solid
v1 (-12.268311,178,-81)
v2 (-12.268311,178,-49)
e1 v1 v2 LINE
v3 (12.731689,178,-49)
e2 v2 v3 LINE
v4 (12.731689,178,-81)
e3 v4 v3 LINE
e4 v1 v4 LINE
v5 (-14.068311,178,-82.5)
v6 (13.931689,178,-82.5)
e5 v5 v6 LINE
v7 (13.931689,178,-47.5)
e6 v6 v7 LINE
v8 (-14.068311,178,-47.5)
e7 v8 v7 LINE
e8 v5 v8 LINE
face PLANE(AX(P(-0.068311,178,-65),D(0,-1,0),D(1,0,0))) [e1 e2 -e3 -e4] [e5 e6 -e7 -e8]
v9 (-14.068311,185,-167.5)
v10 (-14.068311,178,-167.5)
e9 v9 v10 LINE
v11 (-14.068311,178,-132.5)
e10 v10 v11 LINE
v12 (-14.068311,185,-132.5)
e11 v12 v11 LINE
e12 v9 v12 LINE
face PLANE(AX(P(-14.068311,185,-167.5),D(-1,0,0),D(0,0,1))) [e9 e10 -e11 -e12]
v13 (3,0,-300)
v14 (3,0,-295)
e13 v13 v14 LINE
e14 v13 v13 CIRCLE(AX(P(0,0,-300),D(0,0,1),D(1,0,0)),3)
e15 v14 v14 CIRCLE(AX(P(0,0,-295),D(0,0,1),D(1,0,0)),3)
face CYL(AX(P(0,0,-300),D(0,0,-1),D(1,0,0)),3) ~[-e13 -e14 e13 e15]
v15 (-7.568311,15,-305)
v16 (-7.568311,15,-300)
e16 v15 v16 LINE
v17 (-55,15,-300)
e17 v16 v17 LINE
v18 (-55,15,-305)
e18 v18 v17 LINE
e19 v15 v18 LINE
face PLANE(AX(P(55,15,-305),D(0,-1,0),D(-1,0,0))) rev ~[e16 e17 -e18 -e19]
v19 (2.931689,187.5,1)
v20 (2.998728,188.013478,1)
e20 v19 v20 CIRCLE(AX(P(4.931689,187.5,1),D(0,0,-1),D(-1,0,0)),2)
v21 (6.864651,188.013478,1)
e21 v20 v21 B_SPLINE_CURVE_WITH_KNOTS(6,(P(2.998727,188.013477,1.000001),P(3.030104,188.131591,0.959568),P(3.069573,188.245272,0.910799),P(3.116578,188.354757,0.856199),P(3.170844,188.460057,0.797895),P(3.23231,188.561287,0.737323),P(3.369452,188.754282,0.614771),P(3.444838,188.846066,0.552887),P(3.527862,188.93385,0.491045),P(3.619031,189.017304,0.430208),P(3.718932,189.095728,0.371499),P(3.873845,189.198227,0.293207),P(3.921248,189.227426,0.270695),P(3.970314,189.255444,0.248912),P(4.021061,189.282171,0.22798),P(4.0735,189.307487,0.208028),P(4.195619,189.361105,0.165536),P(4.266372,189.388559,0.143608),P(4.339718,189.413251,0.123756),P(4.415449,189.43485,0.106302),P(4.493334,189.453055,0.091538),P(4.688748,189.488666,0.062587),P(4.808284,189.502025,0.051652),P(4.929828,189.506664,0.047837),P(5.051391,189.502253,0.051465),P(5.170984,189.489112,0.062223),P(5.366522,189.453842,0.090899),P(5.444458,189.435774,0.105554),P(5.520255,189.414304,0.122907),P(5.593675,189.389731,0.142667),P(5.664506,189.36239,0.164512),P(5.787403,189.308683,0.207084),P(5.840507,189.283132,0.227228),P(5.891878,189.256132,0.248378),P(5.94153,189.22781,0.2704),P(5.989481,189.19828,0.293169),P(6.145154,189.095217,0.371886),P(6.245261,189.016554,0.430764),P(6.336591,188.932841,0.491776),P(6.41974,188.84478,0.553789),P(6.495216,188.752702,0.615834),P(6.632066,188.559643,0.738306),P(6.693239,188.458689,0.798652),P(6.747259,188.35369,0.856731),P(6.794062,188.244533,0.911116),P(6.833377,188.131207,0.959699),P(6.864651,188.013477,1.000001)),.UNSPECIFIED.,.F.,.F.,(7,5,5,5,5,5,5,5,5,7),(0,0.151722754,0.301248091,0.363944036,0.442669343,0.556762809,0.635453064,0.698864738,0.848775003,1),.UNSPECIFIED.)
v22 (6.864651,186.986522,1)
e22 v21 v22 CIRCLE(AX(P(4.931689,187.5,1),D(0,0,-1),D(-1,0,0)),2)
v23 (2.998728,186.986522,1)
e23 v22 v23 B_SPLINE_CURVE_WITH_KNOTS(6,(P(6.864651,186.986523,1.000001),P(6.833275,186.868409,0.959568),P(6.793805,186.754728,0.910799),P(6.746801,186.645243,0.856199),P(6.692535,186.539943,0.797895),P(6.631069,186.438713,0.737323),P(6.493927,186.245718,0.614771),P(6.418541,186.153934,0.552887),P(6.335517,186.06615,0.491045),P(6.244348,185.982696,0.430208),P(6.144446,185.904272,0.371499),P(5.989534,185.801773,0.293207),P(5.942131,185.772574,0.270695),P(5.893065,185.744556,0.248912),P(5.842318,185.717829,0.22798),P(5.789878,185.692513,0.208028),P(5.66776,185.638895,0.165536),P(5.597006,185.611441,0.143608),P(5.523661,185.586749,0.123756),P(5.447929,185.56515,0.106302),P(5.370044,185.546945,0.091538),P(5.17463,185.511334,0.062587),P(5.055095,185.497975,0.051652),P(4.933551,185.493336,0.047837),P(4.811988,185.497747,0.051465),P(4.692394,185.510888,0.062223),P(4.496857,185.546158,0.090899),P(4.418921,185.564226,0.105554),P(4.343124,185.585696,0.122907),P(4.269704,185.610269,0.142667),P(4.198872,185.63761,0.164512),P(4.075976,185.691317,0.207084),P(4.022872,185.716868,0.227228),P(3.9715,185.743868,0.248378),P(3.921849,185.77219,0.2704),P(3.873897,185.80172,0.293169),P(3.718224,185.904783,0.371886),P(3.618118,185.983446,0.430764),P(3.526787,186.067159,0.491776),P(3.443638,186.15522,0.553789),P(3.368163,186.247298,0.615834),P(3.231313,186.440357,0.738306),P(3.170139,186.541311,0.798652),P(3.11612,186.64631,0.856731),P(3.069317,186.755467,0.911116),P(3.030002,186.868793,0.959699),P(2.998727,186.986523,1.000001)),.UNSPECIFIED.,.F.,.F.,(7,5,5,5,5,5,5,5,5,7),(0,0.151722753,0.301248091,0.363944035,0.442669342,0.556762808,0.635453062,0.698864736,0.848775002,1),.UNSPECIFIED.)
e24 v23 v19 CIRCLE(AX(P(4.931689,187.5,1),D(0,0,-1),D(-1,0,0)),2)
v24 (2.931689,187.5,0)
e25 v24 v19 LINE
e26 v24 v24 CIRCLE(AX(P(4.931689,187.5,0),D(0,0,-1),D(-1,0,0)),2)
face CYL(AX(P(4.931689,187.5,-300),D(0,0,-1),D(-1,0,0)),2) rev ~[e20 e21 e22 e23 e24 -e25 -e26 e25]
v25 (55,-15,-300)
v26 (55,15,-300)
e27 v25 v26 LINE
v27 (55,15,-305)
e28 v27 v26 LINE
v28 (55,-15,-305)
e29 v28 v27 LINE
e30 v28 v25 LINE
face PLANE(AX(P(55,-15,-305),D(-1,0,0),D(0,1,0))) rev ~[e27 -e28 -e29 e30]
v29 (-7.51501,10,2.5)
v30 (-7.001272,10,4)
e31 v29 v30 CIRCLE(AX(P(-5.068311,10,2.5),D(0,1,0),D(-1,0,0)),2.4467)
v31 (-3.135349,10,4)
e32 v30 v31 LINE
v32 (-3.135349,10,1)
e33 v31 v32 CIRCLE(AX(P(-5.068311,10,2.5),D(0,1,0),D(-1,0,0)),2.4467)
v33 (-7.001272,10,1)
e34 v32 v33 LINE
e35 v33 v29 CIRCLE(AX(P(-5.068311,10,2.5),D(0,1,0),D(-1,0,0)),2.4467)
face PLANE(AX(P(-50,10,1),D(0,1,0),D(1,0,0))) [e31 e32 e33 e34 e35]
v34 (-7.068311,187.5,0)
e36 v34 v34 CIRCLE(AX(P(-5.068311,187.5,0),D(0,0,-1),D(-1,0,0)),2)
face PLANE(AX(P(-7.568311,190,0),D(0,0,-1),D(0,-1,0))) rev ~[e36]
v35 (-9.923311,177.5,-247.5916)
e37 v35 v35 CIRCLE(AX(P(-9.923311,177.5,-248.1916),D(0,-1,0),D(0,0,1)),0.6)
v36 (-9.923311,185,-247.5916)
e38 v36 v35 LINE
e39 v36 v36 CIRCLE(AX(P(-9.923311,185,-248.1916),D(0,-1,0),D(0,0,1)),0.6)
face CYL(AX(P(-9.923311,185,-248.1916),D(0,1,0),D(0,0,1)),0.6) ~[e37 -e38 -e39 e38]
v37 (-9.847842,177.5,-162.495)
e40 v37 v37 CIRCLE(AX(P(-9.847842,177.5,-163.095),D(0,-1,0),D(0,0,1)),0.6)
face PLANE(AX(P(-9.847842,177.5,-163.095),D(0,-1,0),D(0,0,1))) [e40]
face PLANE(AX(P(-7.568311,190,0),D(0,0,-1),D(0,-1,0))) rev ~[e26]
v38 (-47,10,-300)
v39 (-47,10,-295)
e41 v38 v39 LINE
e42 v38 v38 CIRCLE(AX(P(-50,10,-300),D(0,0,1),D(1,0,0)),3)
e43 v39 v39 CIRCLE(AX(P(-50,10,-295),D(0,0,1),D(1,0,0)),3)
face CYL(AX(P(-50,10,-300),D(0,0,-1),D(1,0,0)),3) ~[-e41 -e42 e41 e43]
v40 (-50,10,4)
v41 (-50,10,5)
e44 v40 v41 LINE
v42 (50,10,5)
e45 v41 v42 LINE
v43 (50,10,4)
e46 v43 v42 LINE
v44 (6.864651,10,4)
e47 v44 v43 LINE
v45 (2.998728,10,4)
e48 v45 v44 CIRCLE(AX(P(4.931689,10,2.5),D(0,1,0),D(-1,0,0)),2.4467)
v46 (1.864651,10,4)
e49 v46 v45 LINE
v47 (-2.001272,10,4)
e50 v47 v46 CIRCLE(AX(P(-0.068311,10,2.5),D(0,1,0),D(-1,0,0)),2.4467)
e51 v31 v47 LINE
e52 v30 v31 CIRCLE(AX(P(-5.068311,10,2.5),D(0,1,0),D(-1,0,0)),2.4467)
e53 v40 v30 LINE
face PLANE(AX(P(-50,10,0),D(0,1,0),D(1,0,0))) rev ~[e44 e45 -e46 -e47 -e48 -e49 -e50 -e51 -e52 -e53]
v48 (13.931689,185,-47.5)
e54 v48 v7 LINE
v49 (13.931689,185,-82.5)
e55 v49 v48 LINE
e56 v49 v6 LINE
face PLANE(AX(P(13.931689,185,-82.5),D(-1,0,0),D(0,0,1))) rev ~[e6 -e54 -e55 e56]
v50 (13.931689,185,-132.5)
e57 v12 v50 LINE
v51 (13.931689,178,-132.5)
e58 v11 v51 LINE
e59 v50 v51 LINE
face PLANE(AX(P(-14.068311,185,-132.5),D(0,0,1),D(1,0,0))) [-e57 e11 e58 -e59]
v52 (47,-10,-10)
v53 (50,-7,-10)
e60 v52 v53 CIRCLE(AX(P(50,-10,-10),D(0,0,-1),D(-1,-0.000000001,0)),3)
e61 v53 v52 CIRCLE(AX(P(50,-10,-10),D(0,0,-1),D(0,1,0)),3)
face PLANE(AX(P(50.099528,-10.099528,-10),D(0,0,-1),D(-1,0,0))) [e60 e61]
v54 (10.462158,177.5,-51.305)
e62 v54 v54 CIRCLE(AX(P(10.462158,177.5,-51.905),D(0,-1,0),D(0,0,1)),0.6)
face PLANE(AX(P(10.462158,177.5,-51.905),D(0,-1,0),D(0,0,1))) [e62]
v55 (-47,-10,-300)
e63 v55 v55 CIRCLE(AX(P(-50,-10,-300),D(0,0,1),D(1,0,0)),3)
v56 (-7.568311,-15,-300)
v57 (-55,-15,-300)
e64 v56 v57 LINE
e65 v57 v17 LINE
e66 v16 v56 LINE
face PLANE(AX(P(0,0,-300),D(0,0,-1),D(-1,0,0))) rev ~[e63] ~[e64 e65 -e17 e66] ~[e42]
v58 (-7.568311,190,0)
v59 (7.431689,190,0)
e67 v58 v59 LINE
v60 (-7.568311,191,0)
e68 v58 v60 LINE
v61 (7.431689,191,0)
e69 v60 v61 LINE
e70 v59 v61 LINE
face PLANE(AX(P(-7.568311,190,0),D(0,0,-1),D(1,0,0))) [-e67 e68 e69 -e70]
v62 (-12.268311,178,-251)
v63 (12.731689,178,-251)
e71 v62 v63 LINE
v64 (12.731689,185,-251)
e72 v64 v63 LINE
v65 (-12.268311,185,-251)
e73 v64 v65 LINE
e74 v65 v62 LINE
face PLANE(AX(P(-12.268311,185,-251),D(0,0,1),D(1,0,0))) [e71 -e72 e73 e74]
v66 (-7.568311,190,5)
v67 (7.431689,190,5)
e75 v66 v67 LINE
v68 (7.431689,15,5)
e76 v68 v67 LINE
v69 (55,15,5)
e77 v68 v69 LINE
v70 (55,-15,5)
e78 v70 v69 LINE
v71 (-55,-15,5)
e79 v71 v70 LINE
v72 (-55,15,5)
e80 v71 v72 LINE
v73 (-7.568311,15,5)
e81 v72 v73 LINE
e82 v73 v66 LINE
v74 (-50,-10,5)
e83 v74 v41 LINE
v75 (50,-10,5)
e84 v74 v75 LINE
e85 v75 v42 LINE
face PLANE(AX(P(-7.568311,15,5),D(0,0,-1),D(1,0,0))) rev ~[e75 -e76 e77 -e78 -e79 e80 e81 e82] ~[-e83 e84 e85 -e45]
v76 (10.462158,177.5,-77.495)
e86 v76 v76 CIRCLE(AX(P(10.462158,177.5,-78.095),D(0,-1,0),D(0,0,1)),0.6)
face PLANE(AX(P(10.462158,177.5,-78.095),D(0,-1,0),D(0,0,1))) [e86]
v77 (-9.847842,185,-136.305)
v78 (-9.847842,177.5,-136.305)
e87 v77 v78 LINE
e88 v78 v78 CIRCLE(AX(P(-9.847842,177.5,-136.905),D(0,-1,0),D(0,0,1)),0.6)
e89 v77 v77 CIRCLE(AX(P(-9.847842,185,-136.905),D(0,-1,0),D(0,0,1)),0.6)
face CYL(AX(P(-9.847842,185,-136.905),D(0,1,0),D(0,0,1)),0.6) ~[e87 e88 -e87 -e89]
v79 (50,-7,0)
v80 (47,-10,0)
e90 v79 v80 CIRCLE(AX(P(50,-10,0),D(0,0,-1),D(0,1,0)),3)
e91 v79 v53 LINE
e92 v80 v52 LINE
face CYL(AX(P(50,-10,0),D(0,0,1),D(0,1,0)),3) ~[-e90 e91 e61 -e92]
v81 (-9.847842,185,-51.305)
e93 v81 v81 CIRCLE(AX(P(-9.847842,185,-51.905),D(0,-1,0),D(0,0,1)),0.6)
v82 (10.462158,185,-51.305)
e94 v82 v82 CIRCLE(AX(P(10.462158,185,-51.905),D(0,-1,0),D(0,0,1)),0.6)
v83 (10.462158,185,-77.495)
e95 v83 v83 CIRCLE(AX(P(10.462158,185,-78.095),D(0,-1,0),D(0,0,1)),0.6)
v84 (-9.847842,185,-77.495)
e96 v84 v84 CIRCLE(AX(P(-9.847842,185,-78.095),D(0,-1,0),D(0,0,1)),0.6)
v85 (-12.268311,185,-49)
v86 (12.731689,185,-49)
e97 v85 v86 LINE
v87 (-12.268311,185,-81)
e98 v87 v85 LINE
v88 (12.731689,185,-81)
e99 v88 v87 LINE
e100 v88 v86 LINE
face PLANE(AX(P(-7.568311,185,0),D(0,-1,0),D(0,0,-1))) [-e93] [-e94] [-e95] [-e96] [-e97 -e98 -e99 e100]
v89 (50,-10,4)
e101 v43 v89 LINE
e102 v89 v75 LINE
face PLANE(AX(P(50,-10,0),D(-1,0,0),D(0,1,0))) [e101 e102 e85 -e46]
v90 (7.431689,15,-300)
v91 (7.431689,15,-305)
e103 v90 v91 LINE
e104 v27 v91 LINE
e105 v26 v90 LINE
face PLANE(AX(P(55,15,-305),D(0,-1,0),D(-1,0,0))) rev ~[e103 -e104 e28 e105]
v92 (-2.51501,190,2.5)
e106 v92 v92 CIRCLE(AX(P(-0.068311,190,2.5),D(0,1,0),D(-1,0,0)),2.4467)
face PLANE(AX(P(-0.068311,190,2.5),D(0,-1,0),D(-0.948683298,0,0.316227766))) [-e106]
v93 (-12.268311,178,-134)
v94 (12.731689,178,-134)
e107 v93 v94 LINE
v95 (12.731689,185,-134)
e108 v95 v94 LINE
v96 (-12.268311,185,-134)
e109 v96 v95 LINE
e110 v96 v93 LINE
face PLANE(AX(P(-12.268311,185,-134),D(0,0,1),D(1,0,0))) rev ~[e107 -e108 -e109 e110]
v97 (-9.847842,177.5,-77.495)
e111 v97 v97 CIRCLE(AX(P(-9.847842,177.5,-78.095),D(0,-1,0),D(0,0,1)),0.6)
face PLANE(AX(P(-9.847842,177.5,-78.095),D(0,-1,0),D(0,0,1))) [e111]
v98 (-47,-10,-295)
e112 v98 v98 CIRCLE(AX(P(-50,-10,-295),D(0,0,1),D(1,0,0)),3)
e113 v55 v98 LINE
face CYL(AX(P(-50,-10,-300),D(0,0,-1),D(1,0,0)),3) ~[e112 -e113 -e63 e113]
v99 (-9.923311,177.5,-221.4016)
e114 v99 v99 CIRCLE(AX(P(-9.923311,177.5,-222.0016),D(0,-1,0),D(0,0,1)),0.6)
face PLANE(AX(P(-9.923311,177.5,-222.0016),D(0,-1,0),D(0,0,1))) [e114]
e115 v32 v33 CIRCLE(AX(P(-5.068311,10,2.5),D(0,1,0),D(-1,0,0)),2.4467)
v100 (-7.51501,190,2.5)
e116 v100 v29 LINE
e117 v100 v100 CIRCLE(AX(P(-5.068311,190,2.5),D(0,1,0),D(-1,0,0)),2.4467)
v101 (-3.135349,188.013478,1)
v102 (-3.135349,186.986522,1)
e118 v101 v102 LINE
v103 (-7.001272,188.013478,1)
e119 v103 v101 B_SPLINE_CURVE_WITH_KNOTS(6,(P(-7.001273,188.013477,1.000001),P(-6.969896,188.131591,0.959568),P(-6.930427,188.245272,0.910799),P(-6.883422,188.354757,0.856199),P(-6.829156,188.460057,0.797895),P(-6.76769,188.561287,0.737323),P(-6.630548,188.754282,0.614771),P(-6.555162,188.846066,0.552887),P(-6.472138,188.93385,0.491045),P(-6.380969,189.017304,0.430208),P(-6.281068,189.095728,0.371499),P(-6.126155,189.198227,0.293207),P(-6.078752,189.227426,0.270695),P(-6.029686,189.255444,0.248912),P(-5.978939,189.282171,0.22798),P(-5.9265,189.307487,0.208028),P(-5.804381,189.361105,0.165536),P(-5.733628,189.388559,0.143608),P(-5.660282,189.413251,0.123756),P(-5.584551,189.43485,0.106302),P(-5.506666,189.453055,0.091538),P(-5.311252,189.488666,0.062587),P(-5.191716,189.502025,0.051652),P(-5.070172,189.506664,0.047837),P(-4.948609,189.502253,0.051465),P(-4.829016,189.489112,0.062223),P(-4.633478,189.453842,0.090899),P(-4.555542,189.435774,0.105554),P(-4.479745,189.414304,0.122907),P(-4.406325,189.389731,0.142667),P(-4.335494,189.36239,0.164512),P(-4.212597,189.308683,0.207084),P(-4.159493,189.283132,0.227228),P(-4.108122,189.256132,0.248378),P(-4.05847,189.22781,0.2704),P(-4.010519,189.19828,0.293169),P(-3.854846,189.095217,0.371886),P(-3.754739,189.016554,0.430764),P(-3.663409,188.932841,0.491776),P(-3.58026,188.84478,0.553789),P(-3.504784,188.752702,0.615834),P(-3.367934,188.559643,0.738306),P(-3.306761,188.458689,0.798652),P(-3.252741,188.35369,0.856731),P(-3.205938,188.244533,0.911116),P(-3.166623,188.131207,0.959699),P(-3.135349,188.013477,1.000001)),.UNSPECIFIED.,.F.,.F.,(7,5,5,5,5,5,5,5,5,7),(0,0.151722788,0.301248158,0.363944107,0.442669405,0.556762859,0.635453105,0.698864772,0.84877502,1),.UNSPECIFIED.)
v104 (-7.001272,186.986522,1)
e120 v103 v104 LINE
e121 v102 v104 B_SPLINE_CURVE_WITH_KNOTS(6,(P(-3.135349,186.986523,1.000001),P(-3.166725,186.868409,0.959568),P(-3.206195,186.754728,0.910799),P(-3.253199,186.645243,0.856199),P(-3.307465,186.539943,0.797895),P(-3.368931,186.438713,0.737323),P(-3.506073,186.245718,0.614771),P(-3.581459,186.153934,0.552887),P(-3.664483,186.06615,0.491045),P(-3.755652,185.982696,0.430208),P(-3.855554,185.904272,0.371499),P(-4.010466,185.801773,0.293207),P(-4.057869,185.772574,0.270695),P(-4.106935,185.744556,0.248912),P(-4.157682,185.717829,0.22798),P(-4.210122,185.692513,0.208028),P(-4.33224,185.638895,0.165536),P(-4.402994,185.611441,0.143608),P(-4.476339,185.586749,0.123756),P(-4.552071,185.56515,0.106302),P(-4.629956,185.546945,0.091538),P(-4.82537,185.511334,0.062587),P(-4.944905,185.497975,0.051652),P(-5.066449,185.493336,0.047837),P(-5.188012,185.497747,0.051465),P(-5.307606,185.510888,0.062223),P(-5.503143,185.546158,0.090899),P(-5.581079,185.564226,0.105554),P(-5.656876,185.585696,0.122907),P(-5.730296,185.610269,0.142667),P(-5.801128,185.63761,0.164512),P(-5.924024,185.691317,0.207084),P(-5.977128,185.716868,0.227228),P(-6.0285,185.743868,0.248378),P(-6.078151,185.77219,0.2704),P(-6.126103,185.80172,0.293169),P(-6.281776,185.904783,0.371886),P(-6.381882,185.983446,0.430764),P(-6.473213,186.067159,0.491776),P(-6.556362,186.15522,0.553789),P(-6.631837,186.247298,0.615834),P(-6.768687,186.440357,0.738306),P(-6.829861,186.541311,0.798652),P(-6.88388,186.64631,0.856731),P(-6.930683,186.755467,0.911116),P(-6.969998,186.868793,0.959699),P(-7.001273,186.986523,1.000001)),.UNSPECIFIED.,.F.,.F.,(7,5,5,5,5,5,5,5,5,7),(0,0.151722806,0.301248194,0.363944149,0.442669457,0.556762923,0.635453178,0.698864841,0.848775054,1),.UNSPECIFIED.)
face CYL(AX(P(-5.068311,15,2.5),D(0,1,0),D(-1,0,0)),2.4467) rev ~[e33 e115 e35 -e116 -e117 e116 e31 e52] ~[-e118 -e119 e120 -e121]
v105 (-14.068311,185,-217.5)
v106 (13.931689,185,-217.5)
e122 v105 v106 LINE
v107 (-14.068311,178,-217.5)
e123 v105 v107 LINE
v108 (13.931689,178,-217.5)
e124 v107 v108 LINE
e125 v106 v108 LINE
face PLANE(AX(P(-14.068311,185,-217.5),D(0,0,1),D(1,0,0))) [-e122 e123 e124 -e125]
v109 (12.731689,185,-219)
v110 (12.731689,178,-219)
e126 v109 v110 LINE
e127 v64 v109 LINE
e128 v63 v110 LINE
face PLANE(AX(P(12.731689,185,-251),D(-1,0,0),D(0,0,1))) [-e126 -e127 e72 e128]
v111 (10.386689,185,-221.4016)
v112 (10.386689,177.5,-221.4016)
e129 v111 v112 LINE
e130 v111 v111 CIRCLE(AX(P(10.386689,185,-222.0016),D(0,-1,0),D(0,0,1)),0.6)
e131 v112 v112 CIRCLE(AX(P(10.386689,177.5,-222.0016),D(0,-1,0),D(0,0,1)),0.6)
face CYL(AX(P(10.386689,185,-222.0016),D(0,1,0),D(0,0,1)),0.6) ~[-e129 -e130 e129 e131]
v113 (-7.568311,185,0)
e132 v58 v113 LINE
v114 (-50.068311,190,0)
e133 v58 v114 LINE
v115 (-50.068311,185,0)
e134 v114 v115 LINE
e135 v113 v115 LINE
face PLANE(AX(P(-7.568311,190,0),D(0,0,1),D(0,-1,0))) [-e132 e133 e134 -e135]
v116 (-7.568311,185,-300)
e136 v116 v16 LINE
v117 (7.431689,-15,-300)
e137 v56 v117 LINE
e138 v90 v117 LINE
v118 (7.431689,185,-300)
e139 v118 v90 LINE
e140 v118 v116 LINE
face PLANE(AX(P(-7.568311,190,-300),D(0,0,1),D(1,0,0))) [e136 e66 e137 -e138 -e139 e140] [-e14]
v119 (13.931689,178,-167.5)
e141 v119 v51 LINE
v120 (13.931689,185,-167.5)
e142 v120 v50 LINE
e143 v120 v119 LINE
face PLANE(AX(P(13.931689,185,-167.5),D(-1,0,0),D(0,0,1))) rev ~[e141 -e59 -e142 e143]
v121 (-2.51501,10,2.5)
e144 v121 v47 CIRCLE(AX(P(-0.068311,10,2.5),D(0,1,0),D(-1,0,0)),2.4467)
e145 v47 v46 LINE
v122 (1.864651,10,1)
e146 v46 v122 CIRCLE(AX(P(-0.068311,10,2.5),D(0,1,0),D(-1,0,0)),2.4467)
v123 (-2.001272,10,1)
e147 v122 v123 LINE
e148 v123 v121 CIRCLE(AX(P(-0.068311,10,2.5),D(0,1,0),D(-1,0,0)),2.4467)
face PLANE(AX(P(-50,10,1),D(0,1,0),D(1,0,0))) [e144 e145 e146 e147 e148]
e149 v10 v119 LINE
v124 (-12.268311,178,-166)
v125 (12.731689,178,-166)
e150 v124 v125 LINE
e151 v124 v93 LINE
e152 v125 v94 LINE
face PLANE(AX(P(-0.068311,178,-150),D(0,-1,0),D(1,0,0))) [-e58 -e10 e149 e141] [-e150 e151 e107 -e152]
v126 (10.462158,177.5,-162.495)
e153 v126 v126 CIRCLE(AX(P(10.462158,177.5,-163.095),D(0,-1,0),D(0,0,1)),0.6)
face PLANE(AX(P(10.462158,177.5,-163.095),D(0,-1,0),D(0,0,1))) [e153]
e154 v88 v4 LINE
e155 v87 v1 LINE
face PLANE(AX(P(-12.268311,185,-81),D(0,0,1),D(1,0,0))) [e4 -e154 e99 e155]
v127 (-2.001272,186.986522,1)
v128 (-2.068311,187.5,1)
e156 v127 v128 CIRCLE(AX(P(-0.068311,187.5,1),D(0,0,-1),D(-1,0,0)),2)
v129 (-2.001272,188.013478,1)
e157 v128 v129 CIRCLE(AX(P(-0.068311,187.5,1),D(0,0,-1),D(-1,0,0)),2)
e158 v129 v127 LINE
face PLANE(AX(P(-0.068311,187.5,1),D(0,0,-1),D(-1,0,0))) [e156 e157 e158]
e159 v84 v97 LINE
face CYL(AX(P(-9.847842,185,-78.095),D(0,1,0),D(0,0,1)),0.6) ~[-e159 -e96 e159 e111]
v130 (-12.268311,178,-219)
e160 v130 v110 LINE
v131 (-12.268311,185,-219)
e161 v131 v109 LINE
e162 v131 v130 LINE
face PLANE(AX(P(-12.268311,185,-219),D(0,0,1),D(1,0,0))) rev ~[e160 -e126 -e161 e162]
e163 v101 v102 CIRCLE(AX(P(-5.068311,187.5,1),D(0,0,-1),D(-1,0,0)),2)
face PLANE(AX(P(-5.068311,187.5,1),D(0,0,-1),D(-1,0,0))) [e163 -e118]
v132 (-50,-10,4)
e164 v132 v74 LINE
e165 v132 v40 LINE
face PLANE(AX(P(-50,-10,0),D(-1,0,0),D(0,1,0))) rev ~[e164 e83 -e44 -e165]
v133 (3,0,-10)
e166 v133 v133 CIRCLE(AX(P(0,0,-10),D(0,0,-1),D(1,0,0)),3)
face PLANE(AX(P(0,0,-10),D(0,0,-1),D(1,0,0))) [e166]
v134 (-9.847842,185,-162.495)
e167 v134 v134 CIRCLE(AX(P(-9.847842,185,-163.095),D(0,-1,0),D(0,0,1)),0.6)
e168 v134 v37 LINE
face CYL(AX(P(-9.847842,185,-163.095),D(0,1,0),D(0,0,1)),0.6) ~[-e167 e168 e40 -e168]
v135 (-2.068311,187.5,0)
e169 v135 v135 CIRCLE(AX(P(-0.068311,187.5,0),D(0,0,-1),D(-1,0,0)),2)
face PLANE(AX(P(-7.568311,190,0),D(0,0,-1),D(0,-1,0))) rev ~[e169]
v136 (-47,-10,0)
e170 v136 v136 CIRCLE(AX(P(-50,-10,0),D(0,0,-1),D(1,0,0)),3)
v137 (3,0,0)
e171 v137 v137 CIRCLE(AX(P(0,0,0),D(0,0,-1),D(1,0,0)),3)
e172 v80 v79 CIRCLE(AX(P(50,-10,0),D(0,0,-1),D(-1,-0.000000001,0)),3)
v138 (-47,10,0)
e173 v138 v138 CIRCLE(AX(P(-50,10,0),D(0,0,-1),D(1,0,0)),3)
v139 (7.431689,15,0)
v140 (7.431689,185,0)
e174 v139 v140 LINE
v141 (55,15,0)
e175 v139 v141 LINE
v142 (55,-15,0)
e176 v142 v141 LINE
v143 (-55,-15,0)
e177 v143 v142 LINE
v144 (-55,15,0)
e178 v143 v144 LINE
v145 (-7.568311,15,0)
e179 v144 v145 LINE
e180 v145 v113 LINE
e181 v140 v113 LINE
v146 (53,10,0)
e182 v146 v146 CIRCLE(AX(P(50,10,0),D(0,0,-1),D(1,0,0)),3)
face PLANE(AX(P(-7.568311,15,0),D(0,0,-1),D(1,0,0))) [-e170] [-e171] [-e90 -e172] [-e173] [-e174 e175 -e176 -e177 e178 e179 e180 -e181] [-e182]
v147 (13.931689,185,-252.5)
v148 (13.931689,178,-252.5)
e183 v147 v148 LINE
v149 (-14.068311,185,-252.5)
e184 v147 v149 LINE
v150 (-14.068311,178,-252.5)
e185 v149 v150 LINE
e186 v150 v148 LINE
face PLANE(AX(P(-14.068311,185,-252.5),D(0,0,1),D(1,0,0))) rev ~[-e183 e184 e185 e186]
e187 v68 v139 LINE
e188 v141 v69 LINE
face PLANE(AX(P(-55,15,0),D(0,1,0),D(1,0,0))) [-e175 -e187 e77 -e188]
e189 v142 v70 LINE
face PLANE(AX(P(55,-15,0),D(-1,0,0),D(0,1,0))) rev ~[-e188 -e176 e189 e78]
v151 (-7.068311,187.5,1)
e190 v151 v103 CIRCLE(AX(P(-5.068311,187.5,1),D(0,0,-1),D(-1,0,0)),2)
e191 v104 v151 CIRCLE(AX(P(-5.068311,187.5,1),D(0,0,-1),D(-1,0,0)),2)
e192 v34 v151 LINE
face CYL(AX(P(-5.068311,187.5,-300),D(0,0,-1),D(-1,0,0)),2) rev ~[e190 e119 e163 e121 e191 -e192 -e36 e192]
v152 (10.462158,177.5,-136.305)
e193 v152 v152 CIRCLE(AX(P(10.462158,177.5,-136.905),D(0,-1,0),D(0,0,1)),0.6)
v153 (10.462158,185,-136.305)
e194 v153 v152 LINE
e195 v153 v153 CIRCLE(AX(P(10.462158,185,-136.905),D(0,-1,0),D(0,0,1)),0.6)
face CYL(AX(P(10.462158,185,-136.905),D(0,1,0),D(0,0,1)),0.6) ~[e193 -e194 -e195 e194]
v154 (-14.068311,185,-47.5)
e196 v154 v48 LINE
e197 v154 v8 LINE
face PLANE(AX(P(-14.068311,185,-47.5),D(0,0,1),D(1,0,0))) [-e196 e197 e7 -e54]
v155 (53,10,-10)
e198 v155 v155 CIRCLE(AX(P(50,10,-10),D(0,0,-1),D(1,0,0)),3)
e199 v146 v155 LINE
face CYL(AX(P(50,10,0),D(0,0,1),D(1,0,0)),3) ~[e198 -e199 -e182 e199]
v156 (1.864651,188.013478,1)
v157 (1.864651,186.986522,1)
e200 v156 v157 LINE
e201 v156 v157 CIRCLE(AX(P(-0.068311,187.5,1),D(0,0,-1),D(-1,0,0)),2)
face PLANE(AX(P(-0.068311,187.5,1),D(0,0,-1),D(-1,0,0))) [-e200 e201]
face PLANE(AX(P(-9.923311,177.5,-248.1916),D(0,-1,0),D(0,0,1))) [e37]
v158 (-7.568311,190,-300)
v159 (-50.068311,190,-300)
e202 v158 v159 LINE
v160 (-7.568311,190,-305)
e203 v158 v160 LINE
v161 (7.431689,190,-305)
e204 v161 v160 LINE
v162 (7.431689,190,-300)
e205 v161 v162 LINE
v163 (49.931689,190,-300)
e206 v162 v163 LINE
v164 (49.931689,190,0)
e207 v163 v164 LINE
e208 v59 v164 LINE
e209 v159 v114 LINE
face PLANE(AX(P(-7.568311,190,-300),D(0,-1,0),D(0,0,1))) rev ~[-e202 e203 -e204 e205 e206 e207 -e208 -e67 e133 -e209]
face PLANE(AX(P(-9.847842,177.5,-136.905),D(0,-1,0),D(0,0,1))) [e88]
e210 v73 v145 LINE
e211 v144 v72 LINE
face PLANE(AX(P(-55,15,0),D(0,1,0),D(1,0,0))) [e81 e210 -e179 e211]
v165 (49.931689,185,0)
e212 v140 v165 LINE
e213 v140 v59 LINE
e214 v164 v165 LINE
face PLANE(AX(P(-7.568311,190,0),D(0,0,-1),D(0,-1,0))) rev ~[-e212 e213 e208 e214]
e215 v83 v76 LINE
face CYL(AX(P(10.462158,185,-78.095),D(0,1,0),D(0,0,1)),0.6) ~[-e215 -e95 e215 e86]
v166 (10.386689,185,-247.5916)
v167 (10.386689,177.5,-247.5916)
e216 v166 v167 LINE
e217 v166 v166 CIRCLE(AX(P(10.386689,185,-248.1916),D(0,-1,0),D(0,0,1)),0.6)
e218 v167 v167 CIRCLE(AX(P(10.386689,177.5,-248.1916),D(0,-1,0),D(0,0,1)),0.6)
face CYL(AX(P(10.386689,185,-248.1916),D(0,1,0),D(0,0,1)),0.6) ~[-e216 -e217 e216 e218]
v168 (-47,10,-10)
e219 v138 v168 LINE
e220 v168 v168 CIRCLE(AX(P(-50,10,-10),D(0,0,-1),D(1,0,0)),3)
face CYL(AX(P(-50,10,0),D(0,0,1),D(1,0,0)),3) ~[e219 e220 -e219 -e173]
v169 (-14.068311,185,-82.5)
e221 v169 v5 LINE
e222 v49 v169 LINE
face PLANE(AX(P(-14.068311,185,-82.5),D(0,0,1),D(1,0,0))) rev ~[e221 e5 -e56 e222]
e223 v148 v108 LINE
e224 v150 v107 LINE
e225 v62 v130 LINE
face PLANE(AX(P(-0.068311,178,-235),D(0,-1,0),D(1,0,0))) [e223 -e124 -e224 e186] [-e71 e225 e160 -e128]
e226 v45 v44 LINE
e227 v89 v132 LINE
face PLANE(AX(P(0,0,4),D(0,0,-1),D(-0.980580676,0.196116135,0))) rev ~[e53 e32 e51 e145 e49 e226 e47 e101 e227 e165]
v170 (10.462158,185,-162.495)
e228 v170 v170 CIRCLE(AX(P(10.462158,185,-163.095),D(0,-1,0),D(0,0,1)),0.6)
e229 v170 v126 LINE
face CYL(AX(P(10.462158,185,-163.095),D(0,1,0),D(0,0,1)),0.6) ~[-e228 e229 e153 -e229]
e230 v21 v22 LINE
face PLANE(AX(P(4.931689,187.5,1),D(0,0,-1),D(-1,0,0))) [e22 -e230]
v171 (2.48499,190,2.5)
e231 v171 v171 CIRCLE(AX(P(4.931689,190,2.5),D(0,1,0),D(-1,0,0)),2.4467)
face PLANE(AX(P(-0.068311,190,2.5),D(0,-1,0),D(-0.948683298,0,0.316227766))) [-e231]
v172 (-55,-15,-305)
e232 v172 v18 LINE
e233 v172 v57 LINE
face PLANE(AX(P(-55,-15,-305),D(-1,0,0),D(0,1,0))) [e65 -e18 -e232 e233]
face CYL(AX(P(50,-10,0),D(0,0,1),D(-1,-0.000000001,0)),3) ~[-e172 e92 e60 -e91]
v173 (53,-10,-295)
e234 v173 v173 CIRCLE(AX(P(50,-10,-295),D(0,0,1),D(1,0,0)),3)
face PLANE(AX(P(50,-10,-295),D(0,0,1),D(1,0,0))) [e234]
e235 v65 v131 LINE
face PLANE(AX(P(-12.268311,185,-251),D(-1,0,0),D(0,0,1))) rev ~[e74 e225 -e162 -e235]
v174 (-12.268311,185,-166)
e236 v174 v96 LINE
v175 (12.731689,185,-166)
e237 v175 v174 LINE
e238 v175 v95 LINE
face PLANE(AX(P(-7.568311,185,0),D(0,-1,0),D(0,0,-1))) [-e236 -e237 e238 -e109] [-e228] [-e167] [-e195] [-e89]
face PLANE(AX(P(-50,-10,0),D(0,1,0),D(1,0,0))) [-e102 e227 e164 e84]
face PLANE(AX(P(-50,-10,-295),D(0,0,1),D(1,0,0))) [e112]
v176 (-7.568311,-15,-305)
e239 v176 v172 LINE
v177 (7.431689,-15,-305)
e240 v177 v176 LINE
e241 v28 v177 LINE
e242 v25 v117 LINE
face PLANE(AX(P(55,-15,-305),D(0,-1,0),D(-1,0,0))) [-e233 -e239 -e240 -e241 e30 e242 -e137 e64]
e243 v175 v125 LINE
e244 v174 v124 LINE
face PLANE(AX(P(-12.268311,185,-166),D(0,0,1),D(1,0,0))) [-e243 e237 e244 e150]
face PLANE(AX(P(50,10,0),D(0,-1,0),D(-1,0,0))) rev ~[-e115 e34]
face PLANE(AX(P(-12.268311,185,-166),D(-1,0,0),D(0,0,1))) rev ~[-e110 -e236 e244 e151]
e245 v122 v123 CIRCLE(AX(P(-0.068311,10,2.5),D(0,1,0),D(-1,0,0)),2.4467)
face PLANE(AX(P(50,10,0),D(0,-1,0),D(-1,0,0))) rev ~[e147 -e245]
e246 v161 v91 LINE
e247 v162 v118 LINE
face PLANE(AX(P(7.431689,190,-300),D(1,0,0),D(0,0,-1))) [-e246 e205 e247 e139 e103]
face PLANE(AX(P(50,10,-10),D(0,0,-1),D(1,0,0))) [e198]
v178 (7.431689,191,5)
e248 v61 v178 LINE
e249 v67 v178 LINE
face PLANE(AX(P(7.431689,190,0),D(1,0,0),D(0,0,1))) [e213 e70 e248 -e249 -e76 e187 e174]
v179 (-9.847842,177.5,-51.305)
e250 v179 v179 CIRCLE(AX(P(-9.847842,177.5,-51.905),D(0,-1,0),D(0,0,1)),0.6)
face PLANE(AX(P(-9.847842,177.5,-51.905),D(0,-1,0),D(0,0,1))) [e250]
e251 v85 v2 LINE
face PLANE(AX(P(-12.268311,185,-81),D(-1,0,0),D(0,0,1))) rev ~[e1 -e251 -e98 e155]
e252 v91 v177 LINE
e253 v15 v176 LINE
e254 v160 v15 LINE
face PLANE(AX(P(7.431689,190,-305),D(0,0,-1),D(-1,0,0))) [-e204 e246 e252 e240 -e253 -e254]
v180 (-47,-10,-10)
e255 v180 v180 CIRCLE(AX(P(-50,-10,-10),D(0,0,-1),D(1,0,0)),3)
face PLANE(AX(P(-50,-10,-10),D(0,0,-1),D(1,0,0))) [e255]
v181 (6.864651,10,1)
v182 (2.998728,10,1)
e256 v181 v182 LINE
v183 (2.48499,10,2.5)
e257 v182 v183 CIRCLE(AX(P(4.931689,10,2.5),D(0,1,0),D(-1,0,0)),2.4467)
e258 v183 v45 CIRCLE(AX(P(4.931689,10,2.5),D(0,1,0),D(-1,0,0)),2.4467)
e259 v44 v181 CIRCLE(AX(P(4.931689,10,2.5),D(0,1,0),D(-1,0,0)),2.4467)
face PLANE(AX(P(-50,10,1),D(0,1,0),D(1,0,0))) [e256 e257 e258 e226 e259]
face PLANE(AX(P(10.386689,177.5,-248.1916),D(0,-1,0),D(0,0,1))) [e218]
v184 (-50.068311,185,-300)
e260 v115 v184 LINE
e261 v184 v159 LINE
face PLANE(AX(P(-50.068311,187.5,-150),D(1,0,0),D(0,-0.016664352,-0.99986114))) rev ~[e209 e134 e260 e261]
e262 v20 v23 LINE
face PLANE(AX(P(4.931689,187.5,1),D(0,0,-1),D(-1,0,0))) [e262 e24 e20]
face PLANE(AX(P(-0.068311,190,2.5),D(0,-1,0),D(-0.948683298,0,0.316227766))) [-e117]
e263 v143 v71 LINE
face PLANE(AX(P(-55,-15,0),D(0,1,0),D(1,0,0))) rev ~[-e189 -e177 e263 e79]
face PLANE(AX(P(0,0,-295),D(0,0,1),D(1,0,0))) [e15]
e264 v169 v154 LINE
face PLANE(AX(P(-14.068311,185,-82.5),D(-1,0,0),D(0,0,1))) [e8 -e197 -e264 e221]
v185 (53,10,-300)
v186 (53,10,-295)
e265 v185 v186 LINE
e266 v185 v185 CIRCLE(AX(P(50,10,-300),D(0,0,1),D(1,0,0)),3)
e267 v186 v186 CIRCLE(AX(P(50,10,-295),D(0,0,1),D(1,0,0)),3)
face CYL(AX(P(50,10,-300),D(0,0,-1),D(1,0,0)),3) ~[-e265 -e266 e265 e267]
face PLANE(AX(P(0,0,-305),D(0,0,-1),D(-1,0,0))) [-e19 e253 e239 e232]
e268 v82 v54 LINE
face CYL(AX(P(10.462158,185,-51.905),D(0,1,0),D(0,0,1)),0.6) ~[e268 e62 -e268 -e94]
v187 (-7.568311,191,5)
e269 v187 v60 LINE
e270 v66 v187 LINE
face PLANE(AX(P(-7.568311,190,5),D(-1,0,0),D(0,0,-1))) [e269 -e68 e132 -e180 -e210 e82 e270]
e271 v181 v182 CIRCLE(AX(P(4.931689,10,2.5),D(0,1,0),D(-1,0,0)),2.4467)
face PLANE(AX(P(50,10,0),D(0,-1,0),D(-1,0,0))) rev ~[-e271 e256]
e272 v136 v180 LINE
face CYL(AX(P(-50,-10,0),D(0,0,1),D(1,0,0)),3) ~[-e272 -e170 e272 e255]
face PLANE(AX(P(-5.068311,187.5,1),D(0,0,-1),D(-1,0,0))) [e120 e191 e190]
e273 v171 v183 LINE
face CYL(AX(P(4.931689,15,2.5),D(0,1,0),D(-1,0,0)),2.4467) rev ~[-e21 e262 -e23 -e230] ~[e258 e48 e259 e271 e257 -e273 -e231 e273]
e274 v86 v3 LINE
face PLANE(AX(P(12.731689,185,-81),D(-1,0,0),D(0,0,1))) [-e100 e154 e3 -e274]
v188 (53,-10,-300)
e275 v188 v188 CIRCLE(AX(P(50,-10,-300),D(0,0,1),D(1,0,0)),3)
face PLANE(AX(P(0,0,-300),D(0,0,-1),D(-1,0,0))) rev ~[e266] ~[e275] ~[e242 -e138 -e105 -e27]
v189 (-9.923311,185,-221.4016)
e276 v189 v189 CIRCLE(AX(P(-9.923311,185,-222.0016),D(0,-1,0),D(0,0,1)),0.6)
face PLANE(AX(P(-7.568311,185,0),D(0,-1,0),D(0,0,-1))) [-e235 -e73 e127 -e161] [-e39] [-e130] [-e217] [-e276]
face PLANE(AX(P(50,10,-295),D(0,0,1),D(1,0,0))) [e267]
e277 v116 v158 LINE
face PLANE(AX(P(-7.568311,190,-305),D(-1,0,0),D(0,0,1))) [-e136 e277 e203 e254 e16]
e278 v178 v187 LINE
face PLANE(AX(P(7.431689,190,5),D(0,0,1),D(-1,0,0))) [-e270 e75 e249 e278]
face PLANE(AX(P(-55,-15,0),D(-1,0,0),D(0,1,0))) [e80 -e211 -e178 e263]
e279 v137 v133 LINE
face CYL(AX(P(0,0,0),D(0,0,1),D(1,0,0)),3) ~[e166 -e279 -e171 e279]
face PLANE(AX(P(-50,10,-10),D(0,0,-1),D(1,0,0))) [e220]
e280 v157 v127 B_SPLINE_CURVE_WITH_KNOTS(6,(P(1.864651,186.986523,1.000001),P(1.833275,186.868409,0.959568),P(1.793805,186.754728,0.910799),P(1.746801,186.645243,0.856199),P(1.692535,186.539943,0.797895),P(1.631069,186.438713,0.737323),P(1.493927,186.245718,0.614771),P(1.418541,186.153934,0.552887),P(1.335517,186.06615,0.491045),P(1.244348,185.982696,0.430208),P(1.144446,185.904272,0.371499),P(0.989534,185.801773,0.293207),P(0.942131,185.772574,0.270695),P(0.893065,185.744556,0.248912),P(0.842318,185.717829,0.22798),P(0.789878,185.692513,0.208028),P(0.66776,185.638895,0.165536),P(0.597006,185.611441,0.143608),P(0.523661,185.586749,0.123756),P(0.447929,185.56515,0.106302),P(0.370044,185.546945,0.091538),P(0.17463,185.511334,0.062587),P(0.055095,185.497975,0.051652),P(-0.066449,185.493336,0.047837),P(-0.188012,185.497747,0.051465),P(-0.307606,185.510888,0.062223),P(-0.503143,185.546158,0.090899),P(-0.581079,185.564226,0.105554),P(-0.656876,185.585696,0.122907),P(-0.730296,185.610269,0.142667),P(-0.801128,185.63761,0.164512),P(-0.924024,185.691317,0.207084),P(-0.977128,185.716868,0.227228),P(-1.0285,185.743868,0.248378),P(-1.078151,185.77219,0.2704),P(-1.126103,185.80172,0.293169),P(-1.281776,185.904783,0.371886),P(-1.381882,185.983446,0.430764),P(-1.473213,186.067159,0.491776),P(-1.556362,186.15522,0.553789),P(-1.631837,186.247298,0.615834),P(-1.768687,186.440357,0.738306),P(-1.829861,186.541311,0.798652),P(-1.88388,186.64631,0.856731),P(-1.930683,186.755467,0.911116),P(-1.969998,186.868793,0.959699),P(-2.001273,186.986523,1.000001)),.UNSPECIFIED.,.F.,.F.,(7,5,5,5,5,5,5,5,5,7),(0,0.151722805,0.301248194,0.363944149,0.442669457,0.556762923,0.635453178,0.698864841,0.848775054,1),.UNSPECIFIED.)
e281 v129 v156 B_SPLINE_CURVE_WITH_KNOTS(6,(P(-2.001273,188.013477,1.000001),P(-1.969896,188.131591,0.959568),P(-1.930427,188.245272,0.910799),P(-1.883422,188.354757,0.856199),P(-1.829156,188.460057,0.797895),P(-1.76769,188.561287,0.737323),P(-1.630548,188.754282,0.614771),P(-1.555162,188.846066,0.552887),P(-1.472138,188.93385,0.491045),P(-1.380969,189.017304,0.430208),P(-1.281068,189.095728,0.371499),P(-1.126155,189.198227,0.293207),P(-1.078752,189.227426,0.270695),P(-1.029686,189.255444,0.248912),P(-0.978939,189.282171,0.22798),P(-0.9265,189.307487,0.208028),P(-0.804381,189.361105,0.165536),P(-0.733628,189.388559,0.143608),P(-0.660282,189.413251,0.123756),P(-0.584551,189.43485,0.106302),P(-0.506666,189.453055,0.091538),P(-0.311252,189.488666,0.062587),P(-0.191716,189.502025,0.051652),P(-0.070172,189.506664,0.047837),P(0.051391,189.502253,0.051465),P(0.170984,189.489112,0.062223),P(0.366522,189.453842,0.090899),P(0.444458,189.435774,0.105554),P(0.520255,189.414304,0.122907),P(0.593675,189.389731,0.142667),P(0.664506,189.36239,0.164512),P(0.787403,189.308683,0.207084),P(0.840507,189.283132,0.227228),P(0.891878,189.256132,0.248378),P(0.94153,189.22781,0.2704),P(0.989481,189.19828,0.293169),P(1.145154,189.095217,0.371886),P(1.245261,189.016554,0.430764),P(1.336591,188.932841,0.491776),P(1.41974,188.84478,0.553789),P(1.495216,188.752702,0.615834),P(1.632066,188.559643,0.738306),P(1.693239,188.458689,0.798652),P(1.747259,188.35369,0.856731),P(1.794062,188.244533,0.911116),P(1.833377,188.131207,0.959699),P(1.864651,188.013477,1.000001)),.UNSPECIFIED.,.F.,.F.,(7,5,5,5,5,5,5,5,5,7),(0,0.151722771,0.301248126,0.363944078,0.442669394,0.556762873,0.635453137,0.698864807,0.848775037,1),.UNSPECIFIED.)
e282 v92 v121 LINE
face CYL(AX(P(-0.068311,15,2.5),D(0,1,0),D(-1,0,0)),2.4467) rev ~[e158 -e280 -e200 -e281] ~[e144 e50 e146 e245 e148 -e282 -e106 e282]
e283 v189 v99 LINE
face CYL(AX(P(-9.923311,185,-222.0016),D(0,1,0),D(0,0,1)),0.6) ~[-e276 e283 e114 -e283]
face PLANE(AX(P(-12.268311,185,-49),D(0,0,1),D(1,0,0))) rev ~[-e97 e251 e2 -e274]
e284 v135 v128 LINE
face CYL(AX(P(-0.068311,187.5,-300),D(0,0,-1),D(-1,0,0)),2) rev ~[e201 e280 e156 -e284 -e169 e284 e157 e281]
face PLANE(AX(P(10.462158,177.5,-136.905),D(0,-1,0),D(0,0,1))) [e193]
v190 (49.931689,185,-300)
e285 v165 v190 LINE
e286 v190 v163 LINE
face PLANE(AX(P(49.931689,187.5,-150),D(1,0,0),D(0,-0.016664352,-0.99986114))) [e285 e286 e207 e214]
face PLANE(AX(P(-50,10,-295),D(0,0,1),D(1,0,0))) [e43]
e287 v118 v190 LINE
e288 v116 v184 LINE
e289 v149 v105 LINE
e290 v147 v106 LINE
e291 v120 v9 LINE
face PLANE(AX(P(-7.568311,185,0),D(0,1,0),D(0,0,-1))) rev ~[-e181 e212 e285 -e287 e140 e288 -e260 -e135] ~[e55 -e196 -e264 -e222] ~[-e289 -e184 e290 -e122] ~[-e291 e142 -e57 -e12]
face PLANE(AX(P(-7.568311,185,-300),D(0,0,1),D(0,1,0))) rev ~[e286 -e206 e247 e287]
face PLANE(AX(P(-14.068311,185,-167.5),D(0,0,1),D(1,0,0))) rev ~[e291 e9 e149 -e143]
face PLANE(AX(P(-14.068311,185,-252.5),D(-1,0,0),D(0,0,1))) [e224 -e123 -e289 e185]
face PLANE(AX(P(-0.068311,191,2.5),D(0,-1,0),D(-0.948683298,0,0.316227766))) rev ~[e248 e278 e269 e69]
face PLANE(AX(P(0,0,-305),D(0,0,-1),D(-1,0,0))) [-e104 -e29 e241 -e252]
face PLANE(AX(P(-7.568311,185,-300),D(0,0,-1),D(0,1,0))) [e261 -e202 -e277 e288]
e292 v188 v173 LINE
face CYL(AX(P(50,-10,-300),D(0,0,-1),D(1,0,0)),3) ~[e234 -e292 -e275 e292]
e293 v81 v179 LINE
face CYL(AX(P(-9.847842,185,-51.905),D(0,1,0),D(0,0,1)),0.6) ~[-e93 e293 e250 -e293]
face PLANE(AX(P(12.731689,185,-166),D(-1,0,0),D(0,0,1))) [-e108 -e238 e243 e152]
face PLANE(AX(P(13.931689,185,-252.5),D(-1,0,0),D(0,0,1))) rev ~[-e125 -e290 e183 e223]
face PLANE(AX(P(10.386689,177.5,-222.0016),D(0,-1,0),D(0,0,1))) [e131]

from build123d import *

# Parameters (mm, degrees)
SKETCH2_W            = 110
SKETCH2_H            = 30
SKETCH2_W_2          = 100
SKETCH2_H_2          = 20
BOSS_EXTRUDE1_DEPTH  = 5
SKETCH3_R            = 2.446699787
CUT_EXTRUDE3_DEPTH   = 15
SKETCH3_10_W         = 15
SKETCH3_10_H         = 5
SKETCH3_10_R         = 2.446699787
BOSS_EXTRUDE4_DEPTH  = 175
SKETCH12_W           = 100
SKETCH12_H           = 20
BOSS_EXTRUDE12_DEPTH = 1
SKETCH5_W            = 15
SKETCH5_H            = 5
BOSS_EXTRUDE13_DEPTH = 300
SKETCH13_R           = 2
CUT_EXTRUDE10_DEPTH  = 301
BOSS_EXTRUDE16_DEPTH = 205
SKETCH22_R           = 3
BOSS_EXTRUDE20_DEPTH = 10
SKETCH26_W           = 110
SKETCH26_H           = 30
BOSS_EXTRUDE22_DEPTH = 5
SKETCH27_R           = 3
BOSS_EXTRUDE23_DEPTH = 5
SKETCH28_W           = 28
SKETCH28_H           = 35
SKETCH28_W_2         = 25
SKETCH28_H_2         = 32
BOSS_EXTRUDE26_DEPTH = 7
BOSS_EXTRUDE28_DEPTH = 42.5
BOSS_EXTRUDE29_DEPTH = 57.5
BOSS_EXTRUDE30_DEPTH = 1
SKETCH30_R           = 0.6
BOSS_EXTRUDE32_DEPTH = 7.5
BOSS_EXTRUDE34_DEPTH = 3


with BuildPart() as part:
    # Sketch2 → Boss-Extrude1 (new body)
    with BuildSketch(Plane.XY):
        Rectangle(SKETCH2_W, SKETCH2_H)
        Rectangle(SKETCH2_W_2, SKETCH2_H_2, mode=Mode.SUBTRACT)
    extrude(amount=BOSS_EXTRUDE1_DEPTH)

    # Sketch3 → Cut-Extrude3 (cut)
    with BuildSketch(Plane(origin=(0, 15, 0), x_dir=(1, 0, 0), z_dir=(0, 1, 0))):
        with Locations(Location((4.931689359, -2.5, 0), (0, 0, 180))):
            Circle(SKETCH3_R)
        with Locations(Location((-0.068310641, -2.5, 0), (0, 0, 180))):
            Circle(SKETCH3_R)
        with Locations(Location((-5.068310641, -2.5, 0), (0, 0, 180))):
            Circle(SKETCH3_R)
    extrude(amount=-CUT_EXTRUDE3_DEPTH, mode=Mode.SUBTRACT)

    # Sketch3<10> → Boss-Extrude4 (add)
    with BuildSketch(Plane(origin=(0, 15, 0), x_dir=(1, 0, 0), z_dir=(0, 1, 0))):
        with Locations((-0.068310641, -2.5)):
            Rectangle(SKETCH3_10_W, SKETCH3_10_H)
        with Locations(Location((-0.068310641, -2.5, 0), (0, 0, 180))):
            Circle(SKETCH3_10_R, mode=Mode.SUBTRACT)
        with Locations(Location((4.931689359, -2.5, 0), (0, 0, 180))):
            Circle(SKETCH3_10_R, mode=Mode.SUBTRACT)
        with Locations(Location((-5.068310641, -2.5, 0), (0, 0, 180))):
            Circle(SKETCH3_10_R, mode=Mode.SUBTRACT)
    extrude(amount=BOSS_EXTRUDE4_DEPTH)

    # Sketch12 → Boss-Extrude12 (add)
    with BuildSketch(Plane(origin=(0, 0, 0), x_dir=(-1, 0, 0), z_dir=(0, 0, -1))):
        Rectangle(SKETCH12_W, SKETCH12_H)
    extrude(amount=-BOSS_EXTRUDE12_DEPTH)

    # Sketch5 → Boss-Extrude13 (add)
    with BuildSketch(Plane(origin=(0, 0, 0), x_dir=(-1, 0, 0), z_dir=(0, 0, -1))):
        with Locations((0.068310641, 187.5)):
            Rectangle(SKETCH5_W, SKETCH5_H)
    extrude(amount=BOSS_EXTRUDE13_DEPTH)

    # Sketch13 → Cut-Extrude10 (cut)
    with BuildSketch(Plane(origin=(0, 0, -300), x_dir=(-1, 0, 0), z_dir=(0, 0, -1))):
        with Locations((-4.931689359, 187.5)):
            Circle(SKETCH13_R)
        with Locations((0.068310641, 187.5)):
            Circle(SKETCH13_R)
        with Locations((5.068310641, 187.5)):
            Circle(SKETCH13_R)
    extrude(amount=-CUT_EXTRUDE10_DEPTH, mode=Mode.SUBTRACT)

    # 3DSketch1 → Boss-Extrude16 (add)
    with BuildSketch(Plane(origin=(-7.568310641, 190, -300), x_dir=(0.9486832980505138, 0, -0.3162277660168382), z_dir=(0, -1, 0))):
        Polygon((0, 0), (14.230249471, 4.74341649), (15.811388301, 0), (1.58113883, -4.74341649), align=None)
    extrude(amount=BOSS_EXTRUDE16_DEPTH)

    # Sketch22 → Boss-Extrude20 (add)
    with BuildSketch(Plane(origin=(0, 0, 0), x_dir=(-1, 0, 0), z_dir=(0, 0, -1))):
        with BuildLine():
            ThreePointArc((-50, -7), (-52.121320344, -12.121320344), (-47, -10))
            Line((-47, -10), (-50, -10))
            Line((-50, -10), (-50, -7))
        make_face()
        with BuildLine():
            Line((-50, -10), (-47, -10))
            ThreePointArc((-47, -10), (-47.878679656, -7.878679656), (-50, -7))
            Line((-50, -7), (-50, -10))
        make_face()
        with Locations(Location((0, 0, 0), (0, 0, 180))):
            Circle(SKETCH22_R)
        with Locations(Location((-50, 10, 0), (0, 0, 180))):
            Circle(SKETCH22_R)
        with Locations(Location((50, 10, 0), (0, 0, 180))):
            Circle(SKETCH22_R)
        with Locations(Location((50, -10, 0), (0, 0, 180))):
            Circle(SKETCH22_R)
    extrude(amount=BOSS_EXTRUDE20_DEPTH)

    # Sketch26 → Boss-Extrude22 (add)
    with BuildSketch(Plane(origin=(0, 0, -305), x_dir=(-1, 0, 0), z_dir=(0, 0, -1))):
        Rectangle(SKETCH26_W, SKETCH26_H)
    extrude(amount=-BOSS_EXTRUDE22_DEPTH)

    # Sketch27 → Boss-Extrude23 (add)
    with BuildSketch(Plane.XY.offset(-300)):
        Circle(SKETCH27_R)
        with Locations((-50, 10)):
            Circle(SKETCH27_R)
        with Locations((-50, -10)):
            Circle(SKETCH27_R)
        with Locations((50, 10)):
            Circle(SKETCH27_R)
        with Locations((50, -10)):
            Circle(SKETCH27_R)
    extrude(amount=BOSS_EXTRUDE23_DEPTH)

    # Sketch28 → Boss-Extrude26 (add)
    with BuildSketch(Plane.XZ.offset(-185)):
        with Locations((-0.068310641, -150)):
            Rectangle(SKETCH28_W, SKETCH28_H)
        with Locations((0.231689359, -150)):
            Rectangle(SKETCH28_W_2, SKETCH28_H_2, mode=Mode.SUBTRACT)
        with Locations((-0.068310641, -235)):
            Rectangle(SKETCH28_W, SKETCH28_H)
        with Locations((0.231689359, -235)):
            Rectangle(SKETCH28_W_2, SKETCH28_H_2, mode=Mode.SUBTRACT)
        with Locations((-0.068310641, -65)):
            Rectangle(SKETCH28_W, SKETCH28_H)
        with Locations((0.231689359, -65)):
            Rectangle(SKETCH28_W_2, SKETCH28_H_2, mode=Mode.SUBTRACT)
    extrude(amount=BOSS_EXTRUDE26_DEPTH)

    # 3DSketch4 → Boss-Extrude28 (add)
    with BuildSketch(Plane(origin=(-7.568310641, 185, -300), x_dir=(0, 0.01666435233399335, 0.9998611400396), z_dir=(-1, 0, 0))):
        Polygon((0, 0), (0.083321762, 4.9993057), (300.041663774, 0), (299.958342012, -4.9993057), align=None)
    extrude(amount=BOSS_EXTRUDE28_DEPTH)

    # 3DSketch4<4> → Boss-Extrude29 (add)
    with BuildSketch(Plane(origin=(-7.568310641, 185, -300), x_dir=(0, 0.01666435233399335, 0.9998611400396), z_dir=(-1, 0, 0))):
        Polygon((0, 0), (0.083321762, 4.9993057), (300.041663774, 0), (299.958342012, -4.9993057), align=None)
    extrude(amount=-BOSS_EXTRUDE29_DEPTH)

    # 3DSketch5 → Boss-Extrude30 (add)
    with BuildSketch(Plane(origin=(-7.568310641, 190, 5), x_dir=(0.9486832980505139, 0, -0.31622776601683783), z_dir=(0, 1, 0))):
        Polygon((0, 0), (1.58113883, 4.74341649), (15.811388301, 0), (14.230249471, -4.74341649), align=None)
    extrude(amount=BOSS_EXTRUDE30_DEPTH)

    # Sketch30 → Boss-Extrude32 (add)
    with BuildSketch(Plane.XZ.offset(-185)):
        with Locations(Location((-9.923310641, -248.1916, 0), (0, 0, 90))):
            Circle(SKETCH30_R)
        with Locations(Location((10.386689359, -248.1916, 0), (0, 0, 90))):
            Circle(SKETCH30_R)
        with Locations(Location((-9.923310641, -222.0016, 0), (0, 0, 90))):
            Circle(SKETCH30_R)
        with Locations(Location((10.386689359, -222.0016, 0), (0, 0, 90))):
            Circle(SKETCH30_R)
        with Locations(Location((10.462158109, -163.095, 0), (0, 0, 90))):
            Circle(SKETCH30_R)
        with Locations(Location((-9.847841891, -163.095, 0), (0, 0, 90))):
            Circle(SKETCH30_R)
        with Locations(Location((-9.847841891, -136.905, 0), (0, 0, 90))):
            Circle(SKETCH30_R)
        with Locations(Location((10.462158109, -136.905, 0), (0, 0, 90))):
            Circle(SKETCH30_R)
        with Locations(Location((10.462158109, -51.905, 0), (0, 0, 90))):
            Circle(SKETCH30_R)
        with Locations(Location((-9.847841891, -51.905, 0), (0, 0, 90))):
            Circle(SKETCH30_R)
        with Locations(Location((-9.847841891, -78.095, 0), (0, 0, 90))):
            Circle(SKETCH30_R)
        with Locations(Location((10.462158109, -78.095, 0), (0, 0, 90))):
            Circle(SKETCH30_R)
    extrude(amount=BOSS_EXTRUDE32_DEPTH)

    # 3DSketch6 → Boss-Extrude34 (add)
    with BuildSketch(Plane(origin=(-50, 10, 1), x_dir=(0.9805806756909201, -0.19611613513818413, 0), z_dir=(0, 0, 1))):
        Polygon((0, 0), (98.058067569, 19.611613514), (101.980390272, 0), (3.922322703, -19.611613514), align=None)
    extrude(amount=BOSS_EXTRUDE34_DEPTH)


solid = part.part
